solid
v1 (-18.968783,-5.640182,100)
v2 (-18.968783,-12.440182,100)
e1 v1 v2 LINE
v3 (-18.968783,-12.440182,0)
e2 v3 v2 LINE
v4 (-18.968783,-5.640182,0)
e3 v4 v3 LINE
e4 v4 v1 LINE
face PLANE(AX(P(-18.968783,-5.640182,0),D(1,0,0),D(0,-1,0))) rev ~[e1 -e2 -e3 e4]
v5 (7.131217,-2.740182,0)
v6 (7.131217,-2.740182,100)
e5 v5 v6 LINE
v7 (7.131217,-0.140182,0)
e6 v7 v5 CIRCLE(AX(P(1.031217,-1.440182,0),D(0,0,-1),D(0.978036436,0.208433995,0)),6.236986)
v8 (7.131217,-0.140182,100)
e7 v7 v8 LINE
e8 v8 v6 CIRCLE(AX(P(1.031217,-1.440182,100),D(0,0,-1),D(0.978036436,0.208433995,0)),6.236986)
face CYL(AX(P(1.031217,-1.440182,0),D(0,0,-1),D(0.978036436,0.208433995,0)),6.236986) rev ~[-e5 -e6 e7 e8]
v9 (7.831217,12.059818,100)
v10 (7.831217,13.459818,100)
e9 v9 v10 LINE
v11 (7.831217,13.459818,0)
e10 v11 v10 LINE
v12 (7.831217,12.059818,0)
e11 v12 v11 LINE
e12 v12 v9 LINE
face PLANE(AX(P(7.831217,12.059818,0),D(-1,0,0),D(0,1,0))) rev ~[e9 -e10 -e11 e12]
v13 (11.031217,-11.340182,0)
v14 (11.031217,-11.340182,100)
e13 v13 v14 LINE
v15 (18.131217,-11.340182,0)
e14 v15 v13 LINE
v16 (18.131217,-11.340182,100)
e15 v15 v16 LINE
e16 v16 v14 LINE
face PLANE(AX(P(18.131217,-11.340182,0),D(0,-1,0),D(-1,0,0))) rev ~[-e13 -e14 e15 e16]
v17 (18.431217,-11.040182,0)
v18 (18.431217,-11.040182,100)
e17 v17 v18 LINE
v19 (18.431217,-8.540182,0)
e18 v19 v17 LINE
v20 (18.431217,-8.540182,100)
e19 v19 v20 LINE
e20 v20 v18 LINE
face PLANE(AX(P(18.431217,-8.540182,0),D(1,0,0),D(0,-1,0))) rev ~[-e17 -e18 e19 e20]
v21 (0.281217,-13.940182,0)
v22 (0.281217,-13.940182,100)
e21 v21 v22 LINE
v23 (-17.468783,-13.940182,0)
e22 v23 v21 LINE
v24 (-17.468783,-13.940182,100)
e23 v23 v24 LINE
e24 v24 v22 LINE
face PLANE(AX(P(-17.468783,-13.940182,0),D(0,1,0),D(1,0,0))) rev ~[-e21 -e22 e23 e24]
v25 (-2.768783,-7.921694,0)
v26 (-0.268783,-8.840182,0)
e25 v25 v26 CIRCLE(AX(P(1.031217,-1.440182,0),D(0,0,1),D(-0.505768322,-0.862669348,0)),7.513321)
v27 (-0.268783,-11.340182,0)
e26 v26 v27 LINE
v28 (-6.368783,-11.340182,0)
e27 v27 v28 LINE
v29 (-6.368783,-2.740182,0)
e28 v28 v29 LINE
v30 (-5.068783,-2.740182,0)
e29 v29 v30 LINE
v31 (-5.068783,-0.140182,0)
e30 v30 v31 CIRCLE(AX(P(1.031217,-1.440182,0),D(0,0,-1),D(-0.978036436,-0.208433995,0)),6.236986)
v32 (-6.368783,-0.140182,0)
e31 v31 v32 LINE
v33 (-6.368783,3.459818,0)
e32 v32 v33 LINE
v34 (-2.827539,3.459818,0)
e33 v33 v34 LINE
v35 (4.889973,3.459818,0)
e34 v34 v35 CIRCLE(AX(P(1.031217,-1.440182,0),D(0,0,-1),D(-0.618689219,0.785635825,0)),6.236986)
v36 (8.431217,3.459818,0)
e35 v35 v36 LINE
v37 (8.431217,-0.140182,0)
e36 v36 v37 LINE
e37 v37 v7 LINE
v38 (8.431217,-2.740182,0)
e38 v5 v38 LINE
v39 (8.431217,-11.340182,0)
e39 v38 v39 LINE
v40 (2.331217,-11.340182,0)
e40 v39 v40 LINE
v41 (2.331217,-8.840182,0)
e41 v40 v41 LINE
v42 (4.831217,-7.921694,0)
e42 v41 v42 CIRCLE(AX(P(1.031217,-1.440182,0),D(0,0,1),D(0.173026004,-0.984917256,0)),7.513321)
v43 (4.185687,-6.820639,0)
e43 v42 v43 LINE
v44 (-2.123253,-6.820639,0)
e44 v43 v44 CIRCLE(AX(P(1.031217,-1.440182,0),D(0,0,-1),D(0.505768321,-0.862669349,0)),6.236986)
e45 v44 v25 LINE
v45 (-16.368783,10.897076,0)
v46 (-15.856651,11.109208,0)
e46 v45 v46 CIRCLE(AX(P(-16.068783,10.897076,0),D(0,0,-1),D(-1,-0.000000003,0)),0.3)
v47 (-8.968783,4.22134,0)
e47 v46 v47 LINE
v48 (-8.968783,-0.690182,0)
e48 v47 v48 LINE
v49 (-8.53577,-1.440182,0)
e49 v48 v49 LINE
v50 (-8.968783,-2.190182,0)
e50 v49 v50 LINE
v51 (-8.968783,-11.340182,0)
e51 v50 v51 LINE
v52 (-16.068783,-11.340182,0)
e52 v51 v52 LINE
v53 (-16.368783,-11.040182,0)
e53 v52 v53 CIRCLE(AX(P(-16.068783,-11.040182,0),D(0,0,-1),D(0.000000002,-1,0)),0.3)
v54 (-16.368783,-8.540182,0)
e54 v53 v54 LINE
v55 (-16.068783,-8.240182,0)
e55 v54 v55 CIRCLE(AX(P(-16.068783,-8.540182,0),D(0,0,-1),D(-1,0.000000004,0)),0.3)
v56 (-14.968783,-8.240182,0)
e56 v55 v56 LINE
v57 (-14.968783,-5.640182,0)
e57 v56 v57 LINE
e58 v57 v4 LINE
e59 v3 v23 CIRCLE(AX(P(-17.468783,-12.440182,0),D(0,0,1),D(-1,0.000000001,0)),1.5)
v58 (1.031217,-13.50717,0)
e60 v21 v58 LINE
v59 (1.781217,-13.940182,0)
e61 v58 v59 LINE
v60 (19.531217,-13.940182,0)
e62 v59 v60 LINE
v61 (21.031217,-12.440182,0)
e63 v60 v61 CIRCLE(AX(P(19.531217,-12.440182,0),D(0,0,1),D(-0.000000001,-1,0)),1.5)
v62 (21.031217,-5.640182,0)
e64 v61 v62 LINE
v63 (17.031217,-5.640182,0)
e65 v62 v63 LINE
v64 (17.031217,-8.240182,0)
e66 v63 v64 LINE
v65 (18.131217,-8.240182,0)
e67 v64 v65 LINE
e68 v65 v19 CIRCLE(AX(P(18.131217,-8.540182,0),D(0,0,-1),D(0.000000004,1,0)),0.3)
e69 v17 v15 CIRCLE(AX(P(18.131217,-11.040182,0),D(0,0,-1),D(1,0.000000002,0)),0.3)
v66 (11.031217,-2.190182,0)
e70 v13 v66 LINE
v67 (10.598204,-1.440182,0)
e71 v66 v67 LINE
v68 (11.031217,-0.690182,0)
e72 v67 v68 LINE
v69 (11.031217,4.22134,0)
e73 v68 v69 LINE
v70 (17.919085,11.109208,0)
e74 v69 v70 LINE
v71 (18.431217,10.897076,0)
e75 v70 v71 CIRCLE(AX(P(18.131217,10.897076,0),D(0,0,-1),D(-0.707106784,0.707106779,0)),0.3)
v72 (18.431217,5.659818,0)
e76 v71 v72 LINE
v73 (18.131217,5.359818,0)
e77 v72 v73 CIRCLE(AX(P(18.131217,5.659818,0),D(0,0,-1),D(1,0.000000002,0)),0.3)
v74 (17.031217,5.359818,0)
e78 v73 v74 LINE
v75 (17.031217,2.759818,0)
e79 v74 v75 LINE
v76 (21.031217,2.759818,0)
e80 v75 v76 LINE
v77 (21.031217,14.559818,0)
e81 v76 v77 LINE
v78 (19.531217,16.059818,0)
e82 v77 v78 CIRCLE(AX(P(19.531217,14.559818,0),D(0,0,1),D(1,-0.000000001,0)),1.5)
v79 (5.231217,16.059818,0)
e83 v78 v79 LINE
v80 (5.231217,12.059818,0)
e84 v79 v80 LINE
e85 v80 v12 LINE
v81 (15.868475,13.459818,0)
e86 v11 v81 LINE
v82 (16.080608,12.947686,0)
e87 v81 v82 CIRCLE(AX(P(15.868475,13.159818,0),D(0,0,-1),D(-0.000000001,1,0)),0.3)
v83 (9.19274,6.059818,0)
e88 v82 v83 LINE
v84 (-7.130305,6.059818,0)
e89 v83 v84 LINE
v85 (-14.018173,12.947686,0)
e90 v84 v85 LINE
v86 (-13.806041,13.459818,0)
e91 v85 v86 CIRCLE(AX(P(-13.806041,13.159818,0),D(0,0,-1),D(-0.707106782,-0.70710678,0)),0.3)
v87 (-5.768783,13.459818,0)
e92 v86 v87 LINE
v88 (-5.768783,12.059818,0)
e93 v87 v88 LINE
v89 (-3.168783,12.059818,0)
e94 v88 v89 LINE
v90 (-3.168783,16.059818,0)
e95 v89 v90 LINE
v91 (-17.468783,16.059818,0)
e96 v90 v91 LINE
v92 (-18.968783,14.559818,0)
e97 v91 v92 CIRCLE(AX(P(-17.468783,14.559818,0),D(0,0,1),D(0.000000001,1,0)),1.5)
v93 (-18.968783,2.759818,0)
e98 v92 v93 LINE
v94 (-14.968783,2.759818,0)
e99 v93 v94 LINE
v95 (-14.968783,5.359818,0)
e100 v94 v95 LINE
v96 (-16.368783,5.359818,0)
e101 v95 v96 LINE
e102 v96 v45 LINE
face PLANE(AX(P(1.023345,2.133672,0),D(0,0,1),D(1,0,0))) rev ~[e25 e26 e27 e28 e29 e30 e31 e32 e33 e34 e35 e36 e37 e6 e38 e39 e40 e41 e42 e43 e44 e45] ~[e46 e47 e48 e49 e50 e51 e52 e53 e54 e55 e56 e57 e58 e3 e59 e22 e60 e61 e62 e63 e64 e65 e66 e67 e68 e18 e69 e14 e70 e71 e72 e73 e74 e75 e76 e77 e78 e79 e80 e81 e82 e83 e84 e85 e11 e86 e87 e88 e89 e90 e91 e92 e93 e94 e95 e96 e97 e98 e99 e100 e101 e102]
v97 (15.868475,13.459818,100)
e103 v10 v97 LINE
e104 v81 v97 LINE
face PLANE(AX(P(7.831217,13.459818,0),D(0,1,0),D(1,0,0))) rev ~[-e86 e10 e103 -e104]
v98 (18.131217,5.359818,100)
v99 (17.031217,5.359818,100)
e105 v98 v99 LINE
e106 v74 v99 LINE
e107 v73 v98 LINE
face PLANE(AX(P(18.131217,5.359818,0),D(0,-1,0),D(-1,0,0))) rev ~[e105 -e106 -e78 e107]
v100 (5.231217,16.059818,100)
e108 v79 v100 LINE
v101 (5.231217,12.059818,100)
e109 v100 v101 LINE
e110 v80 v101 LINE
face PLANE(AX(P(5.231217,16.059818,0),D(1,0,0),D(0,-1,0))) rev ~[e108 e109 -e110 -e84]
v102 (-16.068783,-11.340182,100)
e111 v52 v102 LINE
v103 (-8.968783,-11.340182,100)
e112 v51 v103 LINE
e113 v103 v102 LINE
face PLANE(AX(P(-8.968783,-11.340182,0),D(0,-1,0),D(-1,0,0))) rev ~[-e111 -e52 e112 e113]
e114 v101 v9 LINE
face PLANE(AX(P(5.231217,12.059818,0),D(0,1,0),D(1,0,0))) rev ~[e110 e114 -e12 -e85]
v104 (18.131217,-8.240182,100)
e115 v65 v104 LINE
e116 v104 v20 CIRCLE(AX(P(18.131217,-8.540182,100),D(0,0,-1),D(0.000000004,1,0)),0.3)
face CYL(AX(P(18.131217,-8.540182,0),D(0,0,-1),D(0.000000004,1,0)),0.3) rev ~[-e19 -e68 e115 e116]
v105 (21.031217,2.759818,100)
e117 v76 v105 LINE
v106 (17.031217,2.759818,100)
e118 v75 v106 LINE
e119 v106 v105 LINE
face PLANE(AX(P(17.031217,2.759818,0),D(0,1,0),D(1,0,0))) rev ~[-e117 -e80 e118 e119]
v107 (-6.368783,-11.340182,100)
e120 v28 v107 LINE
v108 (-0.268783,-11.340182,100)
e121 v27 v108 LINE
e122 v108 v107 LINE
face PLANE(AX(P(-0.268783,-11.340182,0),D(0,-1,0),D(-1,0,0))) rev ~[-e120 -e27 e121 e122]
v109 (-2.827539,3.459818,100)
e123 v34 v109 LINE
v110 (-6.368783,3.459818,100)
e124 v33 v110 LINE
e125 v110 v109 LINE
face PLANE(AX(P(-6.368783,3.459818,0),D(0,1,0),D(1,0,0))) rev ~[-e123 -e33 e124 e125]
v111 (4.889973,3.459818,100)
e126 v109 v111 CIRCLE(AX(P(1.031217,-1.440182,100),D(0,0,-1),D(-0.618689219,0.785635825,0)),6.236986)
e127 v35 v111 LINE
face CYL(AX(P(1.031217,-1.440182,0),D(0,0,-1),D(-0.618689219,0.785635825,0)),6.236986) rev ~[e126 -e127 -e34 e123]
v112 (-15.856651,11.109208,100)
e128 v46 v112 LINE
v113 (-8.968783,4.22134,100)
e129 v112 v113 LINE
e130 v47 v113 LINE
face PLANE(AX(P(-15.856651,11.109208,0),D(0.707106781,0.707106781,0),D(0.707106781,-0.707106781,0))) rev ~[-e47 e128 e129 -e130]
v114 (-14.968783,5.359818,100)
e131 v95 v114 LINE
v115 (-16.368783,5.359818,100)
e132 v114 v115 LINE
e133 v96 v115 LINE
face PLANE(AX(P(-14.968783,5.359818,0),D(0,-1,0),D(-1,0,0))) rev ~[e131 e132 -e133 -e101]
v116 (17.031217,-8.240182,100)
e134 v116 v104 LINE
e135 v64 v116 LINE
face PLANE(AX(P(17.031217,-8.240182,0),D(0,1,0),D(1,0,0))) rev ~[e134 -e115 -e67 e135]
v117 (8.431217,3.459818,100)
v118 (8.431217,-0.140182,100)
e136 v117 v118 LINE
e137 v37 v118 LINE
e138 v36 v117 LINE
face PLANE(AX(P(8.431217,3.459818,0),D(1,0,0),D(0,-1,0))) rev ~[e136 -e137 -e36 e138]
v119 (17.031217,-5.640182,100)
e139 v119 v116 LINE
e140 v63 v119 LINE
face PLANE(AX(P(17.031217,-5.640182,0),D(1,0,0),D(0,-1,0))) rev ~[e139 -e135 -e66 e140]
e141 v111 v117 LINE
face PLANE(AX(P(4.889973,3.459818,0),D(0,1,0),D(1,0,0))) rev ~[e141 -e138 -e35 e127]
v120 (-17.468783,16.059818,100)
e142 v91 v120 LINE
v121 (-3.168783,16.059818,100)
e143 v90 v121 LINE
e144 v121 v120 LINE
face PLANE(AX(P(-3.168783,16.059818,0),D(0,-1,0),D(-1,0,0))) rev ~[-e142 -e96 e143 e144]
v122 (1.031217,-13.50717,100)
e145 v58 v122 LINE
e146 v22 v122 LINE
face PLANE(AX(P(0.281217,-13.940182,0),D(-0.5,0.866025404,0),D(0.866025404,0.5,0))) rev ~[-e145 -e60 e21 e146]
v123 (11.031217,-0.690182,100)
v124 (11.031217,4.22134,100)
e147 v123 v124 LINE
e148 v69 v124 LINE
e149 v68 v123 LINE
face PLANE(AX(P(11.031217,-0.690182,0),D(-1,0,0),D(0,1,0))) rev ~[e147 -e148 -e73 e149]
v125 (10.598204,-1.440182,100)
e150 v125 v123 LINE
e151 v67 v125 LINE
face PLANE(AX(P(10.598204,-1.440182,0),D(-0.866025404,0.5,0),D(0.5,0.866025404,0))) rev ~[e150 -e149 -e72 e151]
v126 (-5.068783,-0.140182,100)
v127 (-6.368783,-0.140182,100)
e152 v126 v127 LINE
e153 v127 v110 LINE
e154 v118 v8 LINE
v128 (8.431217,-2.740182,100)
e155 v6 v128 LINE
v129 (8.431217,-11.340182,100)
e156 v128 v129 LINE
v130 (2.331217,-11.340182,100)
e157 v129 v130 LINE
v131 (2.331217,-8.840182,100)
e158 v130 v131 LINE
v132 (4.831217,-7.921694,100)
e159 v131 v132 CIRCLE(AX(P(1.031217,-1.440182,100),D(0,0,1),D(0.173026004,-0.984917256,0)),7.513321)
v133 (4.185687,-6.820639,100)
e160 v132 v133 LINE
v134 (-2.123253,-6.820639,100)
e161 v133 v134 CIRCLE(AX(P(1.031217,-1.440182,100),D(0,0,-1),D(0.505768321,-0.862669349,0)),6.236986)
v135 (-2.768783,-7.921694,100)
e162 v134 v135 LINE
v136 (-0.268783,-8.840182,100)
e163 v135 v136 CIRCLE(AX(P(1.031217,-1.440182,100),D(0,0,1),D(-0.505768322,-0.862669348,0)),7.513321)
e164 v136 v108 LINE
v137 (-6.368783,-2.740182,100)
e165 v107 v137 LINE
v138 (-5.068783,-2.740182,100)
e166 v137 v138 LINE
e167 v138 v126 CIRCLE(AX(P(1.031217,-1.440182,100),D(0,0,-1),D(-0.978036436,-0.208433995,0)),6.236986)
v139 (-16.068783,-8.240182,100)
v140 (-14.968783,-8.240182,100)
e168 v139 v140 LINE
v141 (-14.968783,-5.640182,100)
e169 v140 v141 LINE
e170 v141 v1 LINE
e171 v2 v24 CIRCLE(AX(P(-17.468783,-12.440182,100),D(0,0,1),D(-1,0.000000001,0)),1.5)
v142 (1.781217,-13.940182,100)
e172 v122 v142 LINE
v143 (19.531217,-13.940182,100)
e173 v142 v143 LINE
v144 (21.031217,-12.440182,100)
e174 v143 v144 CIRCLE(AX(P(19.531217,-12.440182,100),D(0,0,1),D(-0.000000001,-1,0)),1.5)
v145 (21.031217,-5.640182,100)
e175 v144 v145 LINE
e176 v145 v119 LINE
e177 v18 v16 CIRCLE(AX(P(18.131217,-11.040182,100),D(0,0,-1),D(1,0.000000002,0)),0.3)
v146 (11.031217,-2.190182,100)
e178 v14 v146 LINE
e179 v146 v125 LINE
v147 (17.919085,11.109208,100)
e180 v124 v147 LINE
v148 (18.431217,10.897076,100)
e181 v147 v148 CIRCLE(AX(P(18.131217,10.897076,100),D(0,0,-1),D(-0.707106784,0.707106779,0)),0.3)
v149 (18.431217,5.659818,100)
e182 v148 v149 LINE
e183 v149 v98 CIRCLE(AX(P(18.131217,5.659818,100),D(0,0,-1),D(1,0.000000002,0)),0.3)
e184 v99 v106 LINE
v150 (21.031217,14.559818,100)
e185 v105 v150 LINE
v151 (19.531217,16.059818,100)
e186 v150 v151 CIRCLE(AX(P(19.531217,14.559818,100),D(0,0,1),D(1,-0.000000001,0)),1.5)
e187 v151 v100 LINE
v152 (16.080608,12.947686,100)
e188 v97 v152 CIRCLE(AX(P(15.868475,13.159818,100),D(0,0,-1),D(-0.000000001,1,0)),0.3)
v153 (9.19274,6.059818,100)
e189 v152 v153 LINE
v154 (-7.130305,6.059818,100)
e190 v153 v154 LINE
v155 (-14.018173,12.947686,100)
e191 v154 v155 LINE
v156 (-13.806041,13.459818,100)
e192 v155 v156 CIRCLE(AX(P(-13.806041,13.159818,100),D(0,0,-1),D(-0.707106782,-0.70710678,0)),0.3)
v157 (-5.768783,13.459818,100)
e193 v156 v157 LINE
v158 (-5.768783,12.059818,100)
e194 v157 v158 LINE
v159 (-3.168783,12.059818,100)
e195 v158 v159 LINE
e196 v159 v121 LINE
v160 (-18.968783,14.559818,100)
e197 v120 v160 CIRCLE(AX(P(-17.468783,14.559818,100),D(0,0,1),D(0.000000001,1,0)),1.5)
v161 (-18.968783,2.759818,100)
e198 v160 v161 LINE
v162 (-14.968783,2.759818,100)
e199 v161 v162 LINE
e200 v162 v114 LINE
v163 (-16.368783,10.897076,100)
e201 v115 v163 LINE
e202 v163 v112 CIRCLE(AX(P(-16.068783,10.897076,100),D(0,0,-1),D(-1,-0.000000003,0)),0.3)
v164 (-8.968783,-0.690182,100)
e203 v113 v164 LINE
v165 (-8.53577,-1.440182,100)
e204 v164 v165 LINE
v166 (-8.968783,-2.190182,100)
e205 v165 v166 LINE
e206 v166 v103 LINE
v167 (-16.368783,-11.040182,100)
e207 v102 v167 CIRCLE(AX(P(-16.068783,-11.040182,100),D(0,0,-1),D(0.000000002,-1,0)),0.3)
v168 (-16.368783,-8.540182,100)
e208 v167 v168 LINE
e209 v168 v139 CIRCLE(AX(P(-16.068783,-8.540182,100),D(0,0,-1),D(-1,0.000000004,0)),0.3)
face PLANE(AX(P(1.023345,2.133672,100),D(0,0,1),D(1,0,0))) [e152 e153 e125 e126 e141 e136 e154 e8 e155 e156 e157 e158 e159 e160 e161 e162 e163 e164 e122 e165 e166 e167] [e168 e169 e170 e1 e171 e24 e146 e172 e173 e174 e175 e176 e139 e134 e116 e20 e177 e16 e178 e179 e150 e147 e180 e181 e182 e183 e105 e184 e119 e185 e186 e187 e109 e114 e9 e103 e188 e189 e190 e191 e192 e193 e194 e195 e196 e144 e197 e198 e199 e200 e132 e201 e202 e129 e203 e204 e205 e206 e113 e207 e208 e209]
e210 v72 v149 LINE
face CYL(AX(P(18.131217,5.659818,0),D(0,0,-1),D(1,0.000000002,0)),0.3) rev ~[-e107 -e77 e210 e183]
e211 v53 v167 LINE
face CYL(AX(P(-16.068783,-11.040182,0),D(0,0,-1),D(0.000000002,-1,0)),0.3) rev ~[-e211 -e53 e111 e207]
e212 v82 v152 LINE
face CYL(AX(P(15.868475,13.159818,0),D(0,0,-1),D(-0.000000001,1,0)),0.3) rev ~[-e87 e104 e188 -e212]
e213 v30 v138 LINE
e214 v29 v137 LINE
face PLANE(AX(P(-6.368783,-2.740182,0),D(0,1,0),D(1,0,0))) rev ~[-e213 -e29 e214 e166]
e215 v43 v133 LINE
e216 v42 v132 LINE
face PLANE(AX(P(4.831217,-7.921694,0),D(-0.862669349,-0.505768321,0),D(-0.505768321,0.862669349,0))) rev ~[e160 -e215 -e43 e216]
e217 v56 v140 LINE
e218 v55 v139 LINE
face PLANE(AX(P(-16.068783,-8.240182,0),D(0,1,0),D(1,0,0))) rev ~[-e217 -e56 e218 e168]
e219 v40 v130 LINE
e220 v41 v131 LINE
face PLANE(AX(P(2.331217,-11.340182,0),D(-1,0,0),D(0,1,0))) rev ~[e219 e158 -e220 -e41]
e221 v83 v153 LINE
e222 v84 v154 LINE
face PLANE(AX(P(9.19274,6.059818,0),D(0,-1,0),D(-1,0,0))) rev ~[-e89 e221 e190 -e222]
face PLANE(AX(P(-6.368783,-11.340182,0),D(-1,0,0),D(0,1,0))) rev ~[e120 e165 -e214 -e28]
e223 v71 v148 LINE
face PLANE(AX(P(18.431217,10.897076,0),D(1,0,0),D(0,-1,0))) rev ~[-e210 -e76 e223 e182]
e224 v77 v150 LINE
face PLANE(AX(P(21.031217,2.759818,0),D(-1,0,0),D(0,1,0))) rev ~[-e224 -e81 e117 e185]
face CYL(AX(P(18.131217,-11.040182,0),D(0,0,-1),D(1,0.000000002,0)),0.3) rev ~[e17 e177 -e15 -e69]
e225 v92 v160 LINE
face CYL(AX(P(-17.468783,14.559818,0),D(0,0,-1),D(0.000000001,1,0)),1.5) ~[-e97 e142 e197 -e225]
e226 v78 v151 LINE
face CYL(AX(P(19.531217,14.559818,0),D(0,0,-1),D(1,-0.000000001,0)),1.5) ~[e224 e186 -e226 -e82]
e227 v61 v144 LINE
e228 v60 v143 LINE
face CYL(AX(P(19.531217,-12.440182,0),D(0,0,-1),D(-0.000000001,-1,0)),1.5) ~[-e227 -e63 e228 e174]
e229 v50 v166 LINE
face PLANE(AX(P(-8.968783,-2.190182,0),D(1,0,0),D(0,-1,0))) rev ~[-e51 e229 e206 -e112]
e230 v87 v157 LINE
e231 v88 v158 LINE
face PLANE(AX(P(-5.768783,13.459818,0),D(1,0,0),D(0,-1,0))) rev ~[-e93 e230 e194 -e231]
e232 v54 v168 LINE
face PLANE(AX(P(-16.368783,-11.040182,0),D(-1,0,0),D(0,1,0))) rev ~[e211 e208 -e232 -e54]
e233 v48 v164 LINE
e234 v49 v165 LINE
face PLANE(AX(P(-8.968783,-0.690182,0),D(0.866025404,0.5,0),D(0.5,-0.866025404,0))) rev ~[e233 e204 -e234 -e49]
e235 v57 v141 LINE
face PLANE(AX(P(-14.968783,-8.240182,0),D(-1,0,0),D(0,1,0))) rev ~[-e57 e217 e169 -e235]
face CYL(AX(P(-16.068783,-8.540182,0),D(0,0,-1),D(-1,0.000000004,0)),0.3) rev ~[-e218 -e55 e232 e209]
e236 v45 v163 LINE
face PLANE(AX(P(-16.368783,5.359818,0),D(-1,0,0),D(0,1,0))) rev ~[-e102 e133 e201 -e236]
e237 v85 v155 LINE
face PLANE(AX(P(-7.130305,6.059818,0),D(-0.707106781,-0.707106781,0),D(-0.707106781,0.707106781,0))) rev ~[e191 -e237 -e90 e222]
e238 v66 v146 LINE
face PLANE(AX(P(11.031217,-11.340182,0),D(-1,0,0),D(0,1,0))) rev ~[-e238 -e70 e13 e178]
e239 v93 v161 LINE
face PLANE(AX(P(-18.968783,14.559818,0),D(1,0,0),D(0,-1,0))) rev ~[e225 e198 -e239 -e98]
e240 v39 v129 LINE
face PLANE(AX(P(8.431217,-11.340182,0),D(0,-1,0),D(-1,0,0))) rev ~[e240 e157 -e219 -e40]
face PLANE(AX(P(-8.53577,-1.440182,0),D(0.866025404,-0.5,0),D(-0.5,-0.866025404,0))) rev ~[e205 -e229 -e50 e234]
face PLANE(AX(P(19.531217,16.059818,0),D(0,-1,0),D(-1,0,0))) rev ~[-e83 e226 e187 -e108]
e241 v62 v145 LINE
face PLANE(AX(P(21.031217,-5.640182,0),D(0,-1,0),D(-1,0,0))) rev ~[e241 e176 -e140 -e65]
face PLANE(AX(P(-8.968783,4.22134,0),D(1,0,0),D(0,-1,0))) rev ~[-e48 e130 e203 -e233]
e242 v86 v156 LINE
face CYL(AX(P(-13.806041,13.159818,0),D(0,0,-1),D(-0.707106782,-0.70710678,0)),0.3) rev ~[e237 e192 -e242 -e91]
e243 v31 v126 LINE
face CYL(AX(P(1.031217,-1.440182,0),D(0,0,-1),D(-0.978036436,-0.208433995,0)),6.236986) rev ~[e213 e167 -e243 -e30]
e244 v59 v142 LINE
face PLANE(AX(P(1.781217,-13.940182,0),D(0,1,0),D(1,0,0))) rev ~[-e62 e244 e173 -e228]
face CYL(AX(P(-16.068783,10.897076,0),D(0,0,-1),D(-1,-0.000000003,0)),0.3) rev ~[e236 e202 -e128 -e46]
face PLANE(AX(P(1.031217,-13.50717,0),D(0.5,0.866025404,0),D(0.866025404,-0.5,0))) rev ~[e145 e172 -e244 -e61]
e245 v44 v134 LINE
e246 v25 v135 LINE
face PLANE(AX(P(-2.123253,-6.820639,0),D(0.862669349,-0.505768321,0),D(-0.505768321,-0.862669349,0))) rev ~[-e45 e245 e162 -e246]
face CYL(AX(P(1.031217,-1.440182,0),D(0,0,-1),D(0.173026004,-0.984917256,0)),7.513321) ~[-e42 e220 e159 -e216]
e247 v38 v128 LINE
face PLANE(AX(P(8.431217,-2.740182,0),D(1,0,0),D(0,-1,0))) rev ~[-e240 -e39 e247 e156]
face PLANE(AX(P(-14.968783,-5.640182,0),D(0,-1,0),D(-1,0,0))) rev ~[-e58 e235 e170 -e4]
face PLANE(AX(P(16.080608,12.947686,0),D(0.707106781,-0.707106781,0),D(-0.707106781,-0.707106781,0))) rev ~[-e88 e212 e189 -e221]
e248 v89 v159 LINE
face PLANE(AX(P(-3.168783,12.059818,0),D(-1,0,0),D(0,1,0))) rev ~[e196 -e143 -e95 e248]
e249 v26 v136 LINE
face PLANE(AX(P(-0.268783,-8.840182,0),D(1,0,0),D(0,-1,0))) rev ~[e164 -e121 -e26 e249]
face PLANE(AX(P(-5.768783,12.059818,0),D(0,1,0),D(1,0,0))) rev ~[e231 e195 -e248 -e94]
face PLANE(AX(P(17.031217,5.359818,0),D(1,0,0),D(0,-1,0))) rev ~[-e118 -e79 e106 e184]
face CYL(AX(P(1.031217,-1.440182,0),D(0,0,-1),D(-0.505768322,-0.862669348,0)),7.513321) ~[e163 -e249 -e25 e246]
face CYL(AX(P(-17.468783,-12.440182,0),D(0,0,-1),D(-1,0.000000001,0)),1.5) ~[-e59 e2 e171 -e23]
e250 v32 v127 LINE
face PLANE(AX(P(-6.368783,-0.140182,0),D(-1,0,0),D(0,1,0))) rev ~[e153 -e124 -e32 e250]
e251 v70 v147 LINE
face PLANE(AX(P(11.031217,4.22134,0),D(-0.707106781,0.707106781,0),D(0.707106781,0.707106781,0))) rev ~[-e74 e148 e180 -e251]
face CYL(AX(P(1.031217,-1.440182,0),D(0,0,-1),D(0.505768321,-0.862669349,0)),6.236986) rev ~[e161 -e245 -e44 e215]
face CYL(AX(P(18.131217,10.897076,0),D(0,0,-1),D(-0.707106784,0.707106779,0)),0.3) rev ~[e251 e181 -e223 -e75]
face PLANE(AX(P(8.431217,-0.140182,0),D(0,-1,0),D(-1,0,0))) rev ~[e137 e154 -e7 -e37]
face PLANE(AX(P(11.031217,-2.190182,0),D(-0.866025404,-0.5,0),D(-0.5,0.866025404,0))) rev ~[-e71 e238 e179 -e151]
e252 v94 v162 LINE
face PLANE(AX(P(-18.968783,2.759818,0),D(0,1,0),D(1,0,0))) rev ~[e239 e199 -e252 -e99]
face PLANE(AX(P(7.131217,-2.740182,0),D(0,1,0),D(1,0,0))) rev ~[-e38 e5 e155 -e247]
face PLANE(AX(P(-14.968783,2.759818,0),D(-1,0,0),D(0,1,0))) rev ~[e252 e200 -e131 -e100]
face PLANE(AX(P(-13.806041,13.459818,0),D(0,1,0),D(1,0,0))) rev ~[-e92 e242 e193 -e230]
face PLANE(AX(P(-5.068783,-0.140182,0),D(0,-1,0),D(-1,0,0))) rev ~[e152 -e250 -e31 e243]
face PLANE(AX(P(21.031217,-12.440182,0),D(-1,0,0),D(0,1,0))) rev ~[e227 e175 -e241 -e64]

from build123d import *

# Parameters (mm, degrees)
EXTRUDE_1_DEPTH = 100


with BuildPart() as part:
    # 草图1 → 凸台-拉伸1 (new body)
    with BuildSketch(Plane.XY):
        with BuildLine():
            Line((-17.468782805, -13.940182328), (0.281217195, -13.940182328))
            Line((0.281217195, -13.940182328), (1.031217195, -13.507169626))
            Line((1.031217195, -13.507169626), (1.781217195, -13.940182328))
            Line((1.781217195, -13.940182328), (19.531217195, -13.940182328))
            ThreePointArc((19.531217195, -13.940182328), (20.591877367, -13.5008425), (21.031217195, -12.440182328))
            Line((21.031217195, -12.440182328), (21.031217195, -5.640182328))
            Line((21.031217195, -5.640182328), (17.031217195, -5.640182328))
            Line((17.031217195, -5.640182328), (17.031217195, -8.240182328))
            Line((17.031217195, -8.240182328), (18.131217195, -8.240182328))
            ThreePointArc((18.131217195, -8.240182328), (18.343349229, -8.328050294), (18.431217195, -8.540182328))
            Line((18.431217195, -8.540182328), (18.431217195, -11.040182328))
            ThreePointArc((18.431217195, -11.040182328), (18.343349229, -11.252314363), (18.131217195, -11.340182328))
            Line((18.131217195, -11.340182328), (11.031217195, -11.340182328))
            Line((11.031217195, -11.340182328), (11.031217195, -2.190182328))
            Line((11.031217195, -2.190182328), (10.598204493, -1.440182328))
            Line((10.598204493, -1.440182328), (11.031217195, -0.690182328))
            Line((11.031217195, -0.690182328), (11.031217195, 4.221340041))
            Line((11.031217195, 4.221340041), (17.919085161, 11.109208006))
            ThreePointArc((17.919085161, 11.109208006), (18.246022225, 11.174239832), (18.431217195, 10.897075972))
            Line((18.431217195, 10.897075972), (18.431217195, 5.659817672))
            ThreePointArc((18.431217195, 5.659817672), (18.343349229, 5.447685637), (18.131217195, 5.359817672))
            Line((18.131217195, 5.359817672), (17.031217195, 5.359817672))
            Line((17.031217195, 5.359817672), (17.031217195, 2.759817672))
            Line((17.031217195, 2.759817672), (21.031217195, 2.759817672))
            Line((21.031217195, 2.759817672), (21.031217195, 14.559817672))
            ThreePointArc((21.031217195, 14.559817672), (20.591877367, 15.620477844), (19.531217195, 16.059817672))
            Line((19.531217195, 16.059817672), (5.231217195, 16.059817672))
            Line((5.231217195, 16.059817672), (5.231217195, 12.059817672))
            Line((5.231217195, 12.059817672), (7.831217195, 12.059817672))
            Line((7.831217195, 12.059817672), (7.831217195, 13.459817672))
            Line((7.831217195, 13.459817672), (15.868475495, 13.459817672))
            ThreePointArc((15.868475495, 13.459817672), (16.145639355, 13.274622702), (16.080607529, 12.947685637))
            Line((16.080607529, 12.947685637), (9.192739564, 6.059817672))
            Line((9.192739564, 6.059817672), (-7.130305174, 6.059817672))
            Line((-7.130305174, 6.059817672), (-14.01817314, 12.947685637))
            ThreePointArc((-14.01817314, 12.947685637), (-14.083204965, 13.274622702), (-13.806041105, 13.459817672))
            Line((-13.806041105, 13.459817672), (-5.768782805, 13.459817672))
            Line((-5.768782805, 13.459817672), (-5.768782805, 12.059817672))
            Line((-5.768782805, 12.059817672), (-3.168782805, 12.059817672))
            Line((-3.168782805, 12.059817672), (-3.168782805, 16.059817672))
            Line((-3.168782805, 16.059817672), (-17.468782805, 16.059817672))
            ThreePointArc((-17.468782805, 16.059817672), (-18.529442977, 15.620477844), (-18.968782805, 14.559817672))
            Line((-18.968782805, 14.559817672), (-18.968782805, 2.759817672))
            Line((-18.968782805, 2.759817672), (-14.968782805, 2.759817672))
            Line((-14.968782805, 2.759817672), (-14.968782805, 5.359817672))
            Line((-14.968782805, 5.359817672), (-16.368782805, 5.359817672))
            Line((-16.368782805, 5.359817672), (-16.368782805, 10.897075972))
            ThreePointArc((-16.368782805, 10.897075972), (-16.183587835, 11.174239832), (-15.856650771, 11.109208006))
            Line((-15.856650771, 11.109208006), (-8.968782805, 4.221340041))
            Line((-8.968782805, 4.221340041), (-8.968782805, -0.690182328))
            Line((-8.968782805, -0.690182328), (-8.535770103, -1.440182328))
            Line((-8.535770103, -1.440182328), (-8.968782805, -2.190182328))
            Line((-8.968782805, -2.190182328), (-8.968782805, -11.340182328))
            Line((-8.968782805, -11.340182328), (-16.068782805, -11.340182328))
            ThreePointArc((-16.068782805, -11.340182328), (-16.280914839, -11.252314363), (-16.368782805, -11.040182328))
            Line((-16.368782805, -11.040182328), (-16.368782805, -8.540182328))
            ThreePointArc((-16.368782805, -8.540182328), (-16.280914839, -8.328050294), (-16.068782805, -8.240182328))
            Line((-16.068782805, -8.240182328), (-14.968782805, -8.240182328))
            Line((-14.968782805, -8.240182328), (-14.968782805, -5.640182328))
            Line((-14.968782805, -5.640182328), (-18.968782805, -5.640182328))
            Line((-18.968782805, -5.640182328), (-18.968782805, -12.440182328))
            ThreePointArc((-18.968782805, -12.440182328), (-18.529442977, -13.5008425), (-17.468782805, -13.940182328))
        make_face()
        with BuildLine():
            Line((-6.368782805, 3.459817672), (-2.827539081, 3.459817672))
            ThreePointArc((-2.827539081, 3.459817672), (1.031217195, 4.796804124), (4.889973471, 3.459817672))
            Line((4.889973471, 3.459817672), (8.431217195, 3.459817672))
            Line((8.431217195, 3.459817672), (8.431217195, -0.140182328))
            Line((8.431217195, -0.140182328), (7.131217195, -0.140182328))
            ThreePointArc((7.131217195, -0.140182328), (7.268203647, -1.440182328), (7.131217195, -2.740182328))
            Line((7.131217195, -2.740182328), (8.431217195, -2.740182328))
            Line((8.431217195, -2.740182328), (8.431217195, -11.340182328))
            Line((8.431217195, -11.340182328), (2.331217195, -11.340182328))
            Line((2.331217195, -11.340182328), (2.331217195, -8.840182328))
            ThreePointArc((2.331217195, -8.840182328), (3.622241119, -8.492600001), (4.831217195, -7.921694497))
            Line((4.831217195, -7.921694497), (4.18568736, -6.82063937))
            ThreePointArc((4.18568736, -6.82063937), (1.031217195, -7.67716878), (-2.12325297, -6.82063937))
            Line((-2.12325297, -6.82063937), (-2.768782805, -7.921694497))
            ThreePointArc((-2.768782805, -7.921694497), (-1.559806729, -8.492600001), (-0.268782805, -8.840182328))
            Line((-0.268782805, -8.840182328), (-0.268782805, -11.340182328))
            Line((-0.268782805, -11.340182328), (-6.368782805, -11.340182328))
            Line((-6.368782805, -11.340182328), (-6.368782805, -2.740182328))
            Line((-6.368782805, -2.740182328), (-5.068782805, -2.740182328))
            ThreePointArc((-5.068782805, -2.740182328), (-5.205769257, -1.440182328), (-5.068782805, -0.140182328))
            Line((-5.068782805, -0.140182328), (-6.368782805, -0.140182328))
            Line((-6.368782805, -0.140182328), (-6.368782805, 3.459817672))
        make_face(mode=Mode.SUBTRACT)
    extrude(amount=EXTRUDE_1_DEPTH)


solid = part.part
